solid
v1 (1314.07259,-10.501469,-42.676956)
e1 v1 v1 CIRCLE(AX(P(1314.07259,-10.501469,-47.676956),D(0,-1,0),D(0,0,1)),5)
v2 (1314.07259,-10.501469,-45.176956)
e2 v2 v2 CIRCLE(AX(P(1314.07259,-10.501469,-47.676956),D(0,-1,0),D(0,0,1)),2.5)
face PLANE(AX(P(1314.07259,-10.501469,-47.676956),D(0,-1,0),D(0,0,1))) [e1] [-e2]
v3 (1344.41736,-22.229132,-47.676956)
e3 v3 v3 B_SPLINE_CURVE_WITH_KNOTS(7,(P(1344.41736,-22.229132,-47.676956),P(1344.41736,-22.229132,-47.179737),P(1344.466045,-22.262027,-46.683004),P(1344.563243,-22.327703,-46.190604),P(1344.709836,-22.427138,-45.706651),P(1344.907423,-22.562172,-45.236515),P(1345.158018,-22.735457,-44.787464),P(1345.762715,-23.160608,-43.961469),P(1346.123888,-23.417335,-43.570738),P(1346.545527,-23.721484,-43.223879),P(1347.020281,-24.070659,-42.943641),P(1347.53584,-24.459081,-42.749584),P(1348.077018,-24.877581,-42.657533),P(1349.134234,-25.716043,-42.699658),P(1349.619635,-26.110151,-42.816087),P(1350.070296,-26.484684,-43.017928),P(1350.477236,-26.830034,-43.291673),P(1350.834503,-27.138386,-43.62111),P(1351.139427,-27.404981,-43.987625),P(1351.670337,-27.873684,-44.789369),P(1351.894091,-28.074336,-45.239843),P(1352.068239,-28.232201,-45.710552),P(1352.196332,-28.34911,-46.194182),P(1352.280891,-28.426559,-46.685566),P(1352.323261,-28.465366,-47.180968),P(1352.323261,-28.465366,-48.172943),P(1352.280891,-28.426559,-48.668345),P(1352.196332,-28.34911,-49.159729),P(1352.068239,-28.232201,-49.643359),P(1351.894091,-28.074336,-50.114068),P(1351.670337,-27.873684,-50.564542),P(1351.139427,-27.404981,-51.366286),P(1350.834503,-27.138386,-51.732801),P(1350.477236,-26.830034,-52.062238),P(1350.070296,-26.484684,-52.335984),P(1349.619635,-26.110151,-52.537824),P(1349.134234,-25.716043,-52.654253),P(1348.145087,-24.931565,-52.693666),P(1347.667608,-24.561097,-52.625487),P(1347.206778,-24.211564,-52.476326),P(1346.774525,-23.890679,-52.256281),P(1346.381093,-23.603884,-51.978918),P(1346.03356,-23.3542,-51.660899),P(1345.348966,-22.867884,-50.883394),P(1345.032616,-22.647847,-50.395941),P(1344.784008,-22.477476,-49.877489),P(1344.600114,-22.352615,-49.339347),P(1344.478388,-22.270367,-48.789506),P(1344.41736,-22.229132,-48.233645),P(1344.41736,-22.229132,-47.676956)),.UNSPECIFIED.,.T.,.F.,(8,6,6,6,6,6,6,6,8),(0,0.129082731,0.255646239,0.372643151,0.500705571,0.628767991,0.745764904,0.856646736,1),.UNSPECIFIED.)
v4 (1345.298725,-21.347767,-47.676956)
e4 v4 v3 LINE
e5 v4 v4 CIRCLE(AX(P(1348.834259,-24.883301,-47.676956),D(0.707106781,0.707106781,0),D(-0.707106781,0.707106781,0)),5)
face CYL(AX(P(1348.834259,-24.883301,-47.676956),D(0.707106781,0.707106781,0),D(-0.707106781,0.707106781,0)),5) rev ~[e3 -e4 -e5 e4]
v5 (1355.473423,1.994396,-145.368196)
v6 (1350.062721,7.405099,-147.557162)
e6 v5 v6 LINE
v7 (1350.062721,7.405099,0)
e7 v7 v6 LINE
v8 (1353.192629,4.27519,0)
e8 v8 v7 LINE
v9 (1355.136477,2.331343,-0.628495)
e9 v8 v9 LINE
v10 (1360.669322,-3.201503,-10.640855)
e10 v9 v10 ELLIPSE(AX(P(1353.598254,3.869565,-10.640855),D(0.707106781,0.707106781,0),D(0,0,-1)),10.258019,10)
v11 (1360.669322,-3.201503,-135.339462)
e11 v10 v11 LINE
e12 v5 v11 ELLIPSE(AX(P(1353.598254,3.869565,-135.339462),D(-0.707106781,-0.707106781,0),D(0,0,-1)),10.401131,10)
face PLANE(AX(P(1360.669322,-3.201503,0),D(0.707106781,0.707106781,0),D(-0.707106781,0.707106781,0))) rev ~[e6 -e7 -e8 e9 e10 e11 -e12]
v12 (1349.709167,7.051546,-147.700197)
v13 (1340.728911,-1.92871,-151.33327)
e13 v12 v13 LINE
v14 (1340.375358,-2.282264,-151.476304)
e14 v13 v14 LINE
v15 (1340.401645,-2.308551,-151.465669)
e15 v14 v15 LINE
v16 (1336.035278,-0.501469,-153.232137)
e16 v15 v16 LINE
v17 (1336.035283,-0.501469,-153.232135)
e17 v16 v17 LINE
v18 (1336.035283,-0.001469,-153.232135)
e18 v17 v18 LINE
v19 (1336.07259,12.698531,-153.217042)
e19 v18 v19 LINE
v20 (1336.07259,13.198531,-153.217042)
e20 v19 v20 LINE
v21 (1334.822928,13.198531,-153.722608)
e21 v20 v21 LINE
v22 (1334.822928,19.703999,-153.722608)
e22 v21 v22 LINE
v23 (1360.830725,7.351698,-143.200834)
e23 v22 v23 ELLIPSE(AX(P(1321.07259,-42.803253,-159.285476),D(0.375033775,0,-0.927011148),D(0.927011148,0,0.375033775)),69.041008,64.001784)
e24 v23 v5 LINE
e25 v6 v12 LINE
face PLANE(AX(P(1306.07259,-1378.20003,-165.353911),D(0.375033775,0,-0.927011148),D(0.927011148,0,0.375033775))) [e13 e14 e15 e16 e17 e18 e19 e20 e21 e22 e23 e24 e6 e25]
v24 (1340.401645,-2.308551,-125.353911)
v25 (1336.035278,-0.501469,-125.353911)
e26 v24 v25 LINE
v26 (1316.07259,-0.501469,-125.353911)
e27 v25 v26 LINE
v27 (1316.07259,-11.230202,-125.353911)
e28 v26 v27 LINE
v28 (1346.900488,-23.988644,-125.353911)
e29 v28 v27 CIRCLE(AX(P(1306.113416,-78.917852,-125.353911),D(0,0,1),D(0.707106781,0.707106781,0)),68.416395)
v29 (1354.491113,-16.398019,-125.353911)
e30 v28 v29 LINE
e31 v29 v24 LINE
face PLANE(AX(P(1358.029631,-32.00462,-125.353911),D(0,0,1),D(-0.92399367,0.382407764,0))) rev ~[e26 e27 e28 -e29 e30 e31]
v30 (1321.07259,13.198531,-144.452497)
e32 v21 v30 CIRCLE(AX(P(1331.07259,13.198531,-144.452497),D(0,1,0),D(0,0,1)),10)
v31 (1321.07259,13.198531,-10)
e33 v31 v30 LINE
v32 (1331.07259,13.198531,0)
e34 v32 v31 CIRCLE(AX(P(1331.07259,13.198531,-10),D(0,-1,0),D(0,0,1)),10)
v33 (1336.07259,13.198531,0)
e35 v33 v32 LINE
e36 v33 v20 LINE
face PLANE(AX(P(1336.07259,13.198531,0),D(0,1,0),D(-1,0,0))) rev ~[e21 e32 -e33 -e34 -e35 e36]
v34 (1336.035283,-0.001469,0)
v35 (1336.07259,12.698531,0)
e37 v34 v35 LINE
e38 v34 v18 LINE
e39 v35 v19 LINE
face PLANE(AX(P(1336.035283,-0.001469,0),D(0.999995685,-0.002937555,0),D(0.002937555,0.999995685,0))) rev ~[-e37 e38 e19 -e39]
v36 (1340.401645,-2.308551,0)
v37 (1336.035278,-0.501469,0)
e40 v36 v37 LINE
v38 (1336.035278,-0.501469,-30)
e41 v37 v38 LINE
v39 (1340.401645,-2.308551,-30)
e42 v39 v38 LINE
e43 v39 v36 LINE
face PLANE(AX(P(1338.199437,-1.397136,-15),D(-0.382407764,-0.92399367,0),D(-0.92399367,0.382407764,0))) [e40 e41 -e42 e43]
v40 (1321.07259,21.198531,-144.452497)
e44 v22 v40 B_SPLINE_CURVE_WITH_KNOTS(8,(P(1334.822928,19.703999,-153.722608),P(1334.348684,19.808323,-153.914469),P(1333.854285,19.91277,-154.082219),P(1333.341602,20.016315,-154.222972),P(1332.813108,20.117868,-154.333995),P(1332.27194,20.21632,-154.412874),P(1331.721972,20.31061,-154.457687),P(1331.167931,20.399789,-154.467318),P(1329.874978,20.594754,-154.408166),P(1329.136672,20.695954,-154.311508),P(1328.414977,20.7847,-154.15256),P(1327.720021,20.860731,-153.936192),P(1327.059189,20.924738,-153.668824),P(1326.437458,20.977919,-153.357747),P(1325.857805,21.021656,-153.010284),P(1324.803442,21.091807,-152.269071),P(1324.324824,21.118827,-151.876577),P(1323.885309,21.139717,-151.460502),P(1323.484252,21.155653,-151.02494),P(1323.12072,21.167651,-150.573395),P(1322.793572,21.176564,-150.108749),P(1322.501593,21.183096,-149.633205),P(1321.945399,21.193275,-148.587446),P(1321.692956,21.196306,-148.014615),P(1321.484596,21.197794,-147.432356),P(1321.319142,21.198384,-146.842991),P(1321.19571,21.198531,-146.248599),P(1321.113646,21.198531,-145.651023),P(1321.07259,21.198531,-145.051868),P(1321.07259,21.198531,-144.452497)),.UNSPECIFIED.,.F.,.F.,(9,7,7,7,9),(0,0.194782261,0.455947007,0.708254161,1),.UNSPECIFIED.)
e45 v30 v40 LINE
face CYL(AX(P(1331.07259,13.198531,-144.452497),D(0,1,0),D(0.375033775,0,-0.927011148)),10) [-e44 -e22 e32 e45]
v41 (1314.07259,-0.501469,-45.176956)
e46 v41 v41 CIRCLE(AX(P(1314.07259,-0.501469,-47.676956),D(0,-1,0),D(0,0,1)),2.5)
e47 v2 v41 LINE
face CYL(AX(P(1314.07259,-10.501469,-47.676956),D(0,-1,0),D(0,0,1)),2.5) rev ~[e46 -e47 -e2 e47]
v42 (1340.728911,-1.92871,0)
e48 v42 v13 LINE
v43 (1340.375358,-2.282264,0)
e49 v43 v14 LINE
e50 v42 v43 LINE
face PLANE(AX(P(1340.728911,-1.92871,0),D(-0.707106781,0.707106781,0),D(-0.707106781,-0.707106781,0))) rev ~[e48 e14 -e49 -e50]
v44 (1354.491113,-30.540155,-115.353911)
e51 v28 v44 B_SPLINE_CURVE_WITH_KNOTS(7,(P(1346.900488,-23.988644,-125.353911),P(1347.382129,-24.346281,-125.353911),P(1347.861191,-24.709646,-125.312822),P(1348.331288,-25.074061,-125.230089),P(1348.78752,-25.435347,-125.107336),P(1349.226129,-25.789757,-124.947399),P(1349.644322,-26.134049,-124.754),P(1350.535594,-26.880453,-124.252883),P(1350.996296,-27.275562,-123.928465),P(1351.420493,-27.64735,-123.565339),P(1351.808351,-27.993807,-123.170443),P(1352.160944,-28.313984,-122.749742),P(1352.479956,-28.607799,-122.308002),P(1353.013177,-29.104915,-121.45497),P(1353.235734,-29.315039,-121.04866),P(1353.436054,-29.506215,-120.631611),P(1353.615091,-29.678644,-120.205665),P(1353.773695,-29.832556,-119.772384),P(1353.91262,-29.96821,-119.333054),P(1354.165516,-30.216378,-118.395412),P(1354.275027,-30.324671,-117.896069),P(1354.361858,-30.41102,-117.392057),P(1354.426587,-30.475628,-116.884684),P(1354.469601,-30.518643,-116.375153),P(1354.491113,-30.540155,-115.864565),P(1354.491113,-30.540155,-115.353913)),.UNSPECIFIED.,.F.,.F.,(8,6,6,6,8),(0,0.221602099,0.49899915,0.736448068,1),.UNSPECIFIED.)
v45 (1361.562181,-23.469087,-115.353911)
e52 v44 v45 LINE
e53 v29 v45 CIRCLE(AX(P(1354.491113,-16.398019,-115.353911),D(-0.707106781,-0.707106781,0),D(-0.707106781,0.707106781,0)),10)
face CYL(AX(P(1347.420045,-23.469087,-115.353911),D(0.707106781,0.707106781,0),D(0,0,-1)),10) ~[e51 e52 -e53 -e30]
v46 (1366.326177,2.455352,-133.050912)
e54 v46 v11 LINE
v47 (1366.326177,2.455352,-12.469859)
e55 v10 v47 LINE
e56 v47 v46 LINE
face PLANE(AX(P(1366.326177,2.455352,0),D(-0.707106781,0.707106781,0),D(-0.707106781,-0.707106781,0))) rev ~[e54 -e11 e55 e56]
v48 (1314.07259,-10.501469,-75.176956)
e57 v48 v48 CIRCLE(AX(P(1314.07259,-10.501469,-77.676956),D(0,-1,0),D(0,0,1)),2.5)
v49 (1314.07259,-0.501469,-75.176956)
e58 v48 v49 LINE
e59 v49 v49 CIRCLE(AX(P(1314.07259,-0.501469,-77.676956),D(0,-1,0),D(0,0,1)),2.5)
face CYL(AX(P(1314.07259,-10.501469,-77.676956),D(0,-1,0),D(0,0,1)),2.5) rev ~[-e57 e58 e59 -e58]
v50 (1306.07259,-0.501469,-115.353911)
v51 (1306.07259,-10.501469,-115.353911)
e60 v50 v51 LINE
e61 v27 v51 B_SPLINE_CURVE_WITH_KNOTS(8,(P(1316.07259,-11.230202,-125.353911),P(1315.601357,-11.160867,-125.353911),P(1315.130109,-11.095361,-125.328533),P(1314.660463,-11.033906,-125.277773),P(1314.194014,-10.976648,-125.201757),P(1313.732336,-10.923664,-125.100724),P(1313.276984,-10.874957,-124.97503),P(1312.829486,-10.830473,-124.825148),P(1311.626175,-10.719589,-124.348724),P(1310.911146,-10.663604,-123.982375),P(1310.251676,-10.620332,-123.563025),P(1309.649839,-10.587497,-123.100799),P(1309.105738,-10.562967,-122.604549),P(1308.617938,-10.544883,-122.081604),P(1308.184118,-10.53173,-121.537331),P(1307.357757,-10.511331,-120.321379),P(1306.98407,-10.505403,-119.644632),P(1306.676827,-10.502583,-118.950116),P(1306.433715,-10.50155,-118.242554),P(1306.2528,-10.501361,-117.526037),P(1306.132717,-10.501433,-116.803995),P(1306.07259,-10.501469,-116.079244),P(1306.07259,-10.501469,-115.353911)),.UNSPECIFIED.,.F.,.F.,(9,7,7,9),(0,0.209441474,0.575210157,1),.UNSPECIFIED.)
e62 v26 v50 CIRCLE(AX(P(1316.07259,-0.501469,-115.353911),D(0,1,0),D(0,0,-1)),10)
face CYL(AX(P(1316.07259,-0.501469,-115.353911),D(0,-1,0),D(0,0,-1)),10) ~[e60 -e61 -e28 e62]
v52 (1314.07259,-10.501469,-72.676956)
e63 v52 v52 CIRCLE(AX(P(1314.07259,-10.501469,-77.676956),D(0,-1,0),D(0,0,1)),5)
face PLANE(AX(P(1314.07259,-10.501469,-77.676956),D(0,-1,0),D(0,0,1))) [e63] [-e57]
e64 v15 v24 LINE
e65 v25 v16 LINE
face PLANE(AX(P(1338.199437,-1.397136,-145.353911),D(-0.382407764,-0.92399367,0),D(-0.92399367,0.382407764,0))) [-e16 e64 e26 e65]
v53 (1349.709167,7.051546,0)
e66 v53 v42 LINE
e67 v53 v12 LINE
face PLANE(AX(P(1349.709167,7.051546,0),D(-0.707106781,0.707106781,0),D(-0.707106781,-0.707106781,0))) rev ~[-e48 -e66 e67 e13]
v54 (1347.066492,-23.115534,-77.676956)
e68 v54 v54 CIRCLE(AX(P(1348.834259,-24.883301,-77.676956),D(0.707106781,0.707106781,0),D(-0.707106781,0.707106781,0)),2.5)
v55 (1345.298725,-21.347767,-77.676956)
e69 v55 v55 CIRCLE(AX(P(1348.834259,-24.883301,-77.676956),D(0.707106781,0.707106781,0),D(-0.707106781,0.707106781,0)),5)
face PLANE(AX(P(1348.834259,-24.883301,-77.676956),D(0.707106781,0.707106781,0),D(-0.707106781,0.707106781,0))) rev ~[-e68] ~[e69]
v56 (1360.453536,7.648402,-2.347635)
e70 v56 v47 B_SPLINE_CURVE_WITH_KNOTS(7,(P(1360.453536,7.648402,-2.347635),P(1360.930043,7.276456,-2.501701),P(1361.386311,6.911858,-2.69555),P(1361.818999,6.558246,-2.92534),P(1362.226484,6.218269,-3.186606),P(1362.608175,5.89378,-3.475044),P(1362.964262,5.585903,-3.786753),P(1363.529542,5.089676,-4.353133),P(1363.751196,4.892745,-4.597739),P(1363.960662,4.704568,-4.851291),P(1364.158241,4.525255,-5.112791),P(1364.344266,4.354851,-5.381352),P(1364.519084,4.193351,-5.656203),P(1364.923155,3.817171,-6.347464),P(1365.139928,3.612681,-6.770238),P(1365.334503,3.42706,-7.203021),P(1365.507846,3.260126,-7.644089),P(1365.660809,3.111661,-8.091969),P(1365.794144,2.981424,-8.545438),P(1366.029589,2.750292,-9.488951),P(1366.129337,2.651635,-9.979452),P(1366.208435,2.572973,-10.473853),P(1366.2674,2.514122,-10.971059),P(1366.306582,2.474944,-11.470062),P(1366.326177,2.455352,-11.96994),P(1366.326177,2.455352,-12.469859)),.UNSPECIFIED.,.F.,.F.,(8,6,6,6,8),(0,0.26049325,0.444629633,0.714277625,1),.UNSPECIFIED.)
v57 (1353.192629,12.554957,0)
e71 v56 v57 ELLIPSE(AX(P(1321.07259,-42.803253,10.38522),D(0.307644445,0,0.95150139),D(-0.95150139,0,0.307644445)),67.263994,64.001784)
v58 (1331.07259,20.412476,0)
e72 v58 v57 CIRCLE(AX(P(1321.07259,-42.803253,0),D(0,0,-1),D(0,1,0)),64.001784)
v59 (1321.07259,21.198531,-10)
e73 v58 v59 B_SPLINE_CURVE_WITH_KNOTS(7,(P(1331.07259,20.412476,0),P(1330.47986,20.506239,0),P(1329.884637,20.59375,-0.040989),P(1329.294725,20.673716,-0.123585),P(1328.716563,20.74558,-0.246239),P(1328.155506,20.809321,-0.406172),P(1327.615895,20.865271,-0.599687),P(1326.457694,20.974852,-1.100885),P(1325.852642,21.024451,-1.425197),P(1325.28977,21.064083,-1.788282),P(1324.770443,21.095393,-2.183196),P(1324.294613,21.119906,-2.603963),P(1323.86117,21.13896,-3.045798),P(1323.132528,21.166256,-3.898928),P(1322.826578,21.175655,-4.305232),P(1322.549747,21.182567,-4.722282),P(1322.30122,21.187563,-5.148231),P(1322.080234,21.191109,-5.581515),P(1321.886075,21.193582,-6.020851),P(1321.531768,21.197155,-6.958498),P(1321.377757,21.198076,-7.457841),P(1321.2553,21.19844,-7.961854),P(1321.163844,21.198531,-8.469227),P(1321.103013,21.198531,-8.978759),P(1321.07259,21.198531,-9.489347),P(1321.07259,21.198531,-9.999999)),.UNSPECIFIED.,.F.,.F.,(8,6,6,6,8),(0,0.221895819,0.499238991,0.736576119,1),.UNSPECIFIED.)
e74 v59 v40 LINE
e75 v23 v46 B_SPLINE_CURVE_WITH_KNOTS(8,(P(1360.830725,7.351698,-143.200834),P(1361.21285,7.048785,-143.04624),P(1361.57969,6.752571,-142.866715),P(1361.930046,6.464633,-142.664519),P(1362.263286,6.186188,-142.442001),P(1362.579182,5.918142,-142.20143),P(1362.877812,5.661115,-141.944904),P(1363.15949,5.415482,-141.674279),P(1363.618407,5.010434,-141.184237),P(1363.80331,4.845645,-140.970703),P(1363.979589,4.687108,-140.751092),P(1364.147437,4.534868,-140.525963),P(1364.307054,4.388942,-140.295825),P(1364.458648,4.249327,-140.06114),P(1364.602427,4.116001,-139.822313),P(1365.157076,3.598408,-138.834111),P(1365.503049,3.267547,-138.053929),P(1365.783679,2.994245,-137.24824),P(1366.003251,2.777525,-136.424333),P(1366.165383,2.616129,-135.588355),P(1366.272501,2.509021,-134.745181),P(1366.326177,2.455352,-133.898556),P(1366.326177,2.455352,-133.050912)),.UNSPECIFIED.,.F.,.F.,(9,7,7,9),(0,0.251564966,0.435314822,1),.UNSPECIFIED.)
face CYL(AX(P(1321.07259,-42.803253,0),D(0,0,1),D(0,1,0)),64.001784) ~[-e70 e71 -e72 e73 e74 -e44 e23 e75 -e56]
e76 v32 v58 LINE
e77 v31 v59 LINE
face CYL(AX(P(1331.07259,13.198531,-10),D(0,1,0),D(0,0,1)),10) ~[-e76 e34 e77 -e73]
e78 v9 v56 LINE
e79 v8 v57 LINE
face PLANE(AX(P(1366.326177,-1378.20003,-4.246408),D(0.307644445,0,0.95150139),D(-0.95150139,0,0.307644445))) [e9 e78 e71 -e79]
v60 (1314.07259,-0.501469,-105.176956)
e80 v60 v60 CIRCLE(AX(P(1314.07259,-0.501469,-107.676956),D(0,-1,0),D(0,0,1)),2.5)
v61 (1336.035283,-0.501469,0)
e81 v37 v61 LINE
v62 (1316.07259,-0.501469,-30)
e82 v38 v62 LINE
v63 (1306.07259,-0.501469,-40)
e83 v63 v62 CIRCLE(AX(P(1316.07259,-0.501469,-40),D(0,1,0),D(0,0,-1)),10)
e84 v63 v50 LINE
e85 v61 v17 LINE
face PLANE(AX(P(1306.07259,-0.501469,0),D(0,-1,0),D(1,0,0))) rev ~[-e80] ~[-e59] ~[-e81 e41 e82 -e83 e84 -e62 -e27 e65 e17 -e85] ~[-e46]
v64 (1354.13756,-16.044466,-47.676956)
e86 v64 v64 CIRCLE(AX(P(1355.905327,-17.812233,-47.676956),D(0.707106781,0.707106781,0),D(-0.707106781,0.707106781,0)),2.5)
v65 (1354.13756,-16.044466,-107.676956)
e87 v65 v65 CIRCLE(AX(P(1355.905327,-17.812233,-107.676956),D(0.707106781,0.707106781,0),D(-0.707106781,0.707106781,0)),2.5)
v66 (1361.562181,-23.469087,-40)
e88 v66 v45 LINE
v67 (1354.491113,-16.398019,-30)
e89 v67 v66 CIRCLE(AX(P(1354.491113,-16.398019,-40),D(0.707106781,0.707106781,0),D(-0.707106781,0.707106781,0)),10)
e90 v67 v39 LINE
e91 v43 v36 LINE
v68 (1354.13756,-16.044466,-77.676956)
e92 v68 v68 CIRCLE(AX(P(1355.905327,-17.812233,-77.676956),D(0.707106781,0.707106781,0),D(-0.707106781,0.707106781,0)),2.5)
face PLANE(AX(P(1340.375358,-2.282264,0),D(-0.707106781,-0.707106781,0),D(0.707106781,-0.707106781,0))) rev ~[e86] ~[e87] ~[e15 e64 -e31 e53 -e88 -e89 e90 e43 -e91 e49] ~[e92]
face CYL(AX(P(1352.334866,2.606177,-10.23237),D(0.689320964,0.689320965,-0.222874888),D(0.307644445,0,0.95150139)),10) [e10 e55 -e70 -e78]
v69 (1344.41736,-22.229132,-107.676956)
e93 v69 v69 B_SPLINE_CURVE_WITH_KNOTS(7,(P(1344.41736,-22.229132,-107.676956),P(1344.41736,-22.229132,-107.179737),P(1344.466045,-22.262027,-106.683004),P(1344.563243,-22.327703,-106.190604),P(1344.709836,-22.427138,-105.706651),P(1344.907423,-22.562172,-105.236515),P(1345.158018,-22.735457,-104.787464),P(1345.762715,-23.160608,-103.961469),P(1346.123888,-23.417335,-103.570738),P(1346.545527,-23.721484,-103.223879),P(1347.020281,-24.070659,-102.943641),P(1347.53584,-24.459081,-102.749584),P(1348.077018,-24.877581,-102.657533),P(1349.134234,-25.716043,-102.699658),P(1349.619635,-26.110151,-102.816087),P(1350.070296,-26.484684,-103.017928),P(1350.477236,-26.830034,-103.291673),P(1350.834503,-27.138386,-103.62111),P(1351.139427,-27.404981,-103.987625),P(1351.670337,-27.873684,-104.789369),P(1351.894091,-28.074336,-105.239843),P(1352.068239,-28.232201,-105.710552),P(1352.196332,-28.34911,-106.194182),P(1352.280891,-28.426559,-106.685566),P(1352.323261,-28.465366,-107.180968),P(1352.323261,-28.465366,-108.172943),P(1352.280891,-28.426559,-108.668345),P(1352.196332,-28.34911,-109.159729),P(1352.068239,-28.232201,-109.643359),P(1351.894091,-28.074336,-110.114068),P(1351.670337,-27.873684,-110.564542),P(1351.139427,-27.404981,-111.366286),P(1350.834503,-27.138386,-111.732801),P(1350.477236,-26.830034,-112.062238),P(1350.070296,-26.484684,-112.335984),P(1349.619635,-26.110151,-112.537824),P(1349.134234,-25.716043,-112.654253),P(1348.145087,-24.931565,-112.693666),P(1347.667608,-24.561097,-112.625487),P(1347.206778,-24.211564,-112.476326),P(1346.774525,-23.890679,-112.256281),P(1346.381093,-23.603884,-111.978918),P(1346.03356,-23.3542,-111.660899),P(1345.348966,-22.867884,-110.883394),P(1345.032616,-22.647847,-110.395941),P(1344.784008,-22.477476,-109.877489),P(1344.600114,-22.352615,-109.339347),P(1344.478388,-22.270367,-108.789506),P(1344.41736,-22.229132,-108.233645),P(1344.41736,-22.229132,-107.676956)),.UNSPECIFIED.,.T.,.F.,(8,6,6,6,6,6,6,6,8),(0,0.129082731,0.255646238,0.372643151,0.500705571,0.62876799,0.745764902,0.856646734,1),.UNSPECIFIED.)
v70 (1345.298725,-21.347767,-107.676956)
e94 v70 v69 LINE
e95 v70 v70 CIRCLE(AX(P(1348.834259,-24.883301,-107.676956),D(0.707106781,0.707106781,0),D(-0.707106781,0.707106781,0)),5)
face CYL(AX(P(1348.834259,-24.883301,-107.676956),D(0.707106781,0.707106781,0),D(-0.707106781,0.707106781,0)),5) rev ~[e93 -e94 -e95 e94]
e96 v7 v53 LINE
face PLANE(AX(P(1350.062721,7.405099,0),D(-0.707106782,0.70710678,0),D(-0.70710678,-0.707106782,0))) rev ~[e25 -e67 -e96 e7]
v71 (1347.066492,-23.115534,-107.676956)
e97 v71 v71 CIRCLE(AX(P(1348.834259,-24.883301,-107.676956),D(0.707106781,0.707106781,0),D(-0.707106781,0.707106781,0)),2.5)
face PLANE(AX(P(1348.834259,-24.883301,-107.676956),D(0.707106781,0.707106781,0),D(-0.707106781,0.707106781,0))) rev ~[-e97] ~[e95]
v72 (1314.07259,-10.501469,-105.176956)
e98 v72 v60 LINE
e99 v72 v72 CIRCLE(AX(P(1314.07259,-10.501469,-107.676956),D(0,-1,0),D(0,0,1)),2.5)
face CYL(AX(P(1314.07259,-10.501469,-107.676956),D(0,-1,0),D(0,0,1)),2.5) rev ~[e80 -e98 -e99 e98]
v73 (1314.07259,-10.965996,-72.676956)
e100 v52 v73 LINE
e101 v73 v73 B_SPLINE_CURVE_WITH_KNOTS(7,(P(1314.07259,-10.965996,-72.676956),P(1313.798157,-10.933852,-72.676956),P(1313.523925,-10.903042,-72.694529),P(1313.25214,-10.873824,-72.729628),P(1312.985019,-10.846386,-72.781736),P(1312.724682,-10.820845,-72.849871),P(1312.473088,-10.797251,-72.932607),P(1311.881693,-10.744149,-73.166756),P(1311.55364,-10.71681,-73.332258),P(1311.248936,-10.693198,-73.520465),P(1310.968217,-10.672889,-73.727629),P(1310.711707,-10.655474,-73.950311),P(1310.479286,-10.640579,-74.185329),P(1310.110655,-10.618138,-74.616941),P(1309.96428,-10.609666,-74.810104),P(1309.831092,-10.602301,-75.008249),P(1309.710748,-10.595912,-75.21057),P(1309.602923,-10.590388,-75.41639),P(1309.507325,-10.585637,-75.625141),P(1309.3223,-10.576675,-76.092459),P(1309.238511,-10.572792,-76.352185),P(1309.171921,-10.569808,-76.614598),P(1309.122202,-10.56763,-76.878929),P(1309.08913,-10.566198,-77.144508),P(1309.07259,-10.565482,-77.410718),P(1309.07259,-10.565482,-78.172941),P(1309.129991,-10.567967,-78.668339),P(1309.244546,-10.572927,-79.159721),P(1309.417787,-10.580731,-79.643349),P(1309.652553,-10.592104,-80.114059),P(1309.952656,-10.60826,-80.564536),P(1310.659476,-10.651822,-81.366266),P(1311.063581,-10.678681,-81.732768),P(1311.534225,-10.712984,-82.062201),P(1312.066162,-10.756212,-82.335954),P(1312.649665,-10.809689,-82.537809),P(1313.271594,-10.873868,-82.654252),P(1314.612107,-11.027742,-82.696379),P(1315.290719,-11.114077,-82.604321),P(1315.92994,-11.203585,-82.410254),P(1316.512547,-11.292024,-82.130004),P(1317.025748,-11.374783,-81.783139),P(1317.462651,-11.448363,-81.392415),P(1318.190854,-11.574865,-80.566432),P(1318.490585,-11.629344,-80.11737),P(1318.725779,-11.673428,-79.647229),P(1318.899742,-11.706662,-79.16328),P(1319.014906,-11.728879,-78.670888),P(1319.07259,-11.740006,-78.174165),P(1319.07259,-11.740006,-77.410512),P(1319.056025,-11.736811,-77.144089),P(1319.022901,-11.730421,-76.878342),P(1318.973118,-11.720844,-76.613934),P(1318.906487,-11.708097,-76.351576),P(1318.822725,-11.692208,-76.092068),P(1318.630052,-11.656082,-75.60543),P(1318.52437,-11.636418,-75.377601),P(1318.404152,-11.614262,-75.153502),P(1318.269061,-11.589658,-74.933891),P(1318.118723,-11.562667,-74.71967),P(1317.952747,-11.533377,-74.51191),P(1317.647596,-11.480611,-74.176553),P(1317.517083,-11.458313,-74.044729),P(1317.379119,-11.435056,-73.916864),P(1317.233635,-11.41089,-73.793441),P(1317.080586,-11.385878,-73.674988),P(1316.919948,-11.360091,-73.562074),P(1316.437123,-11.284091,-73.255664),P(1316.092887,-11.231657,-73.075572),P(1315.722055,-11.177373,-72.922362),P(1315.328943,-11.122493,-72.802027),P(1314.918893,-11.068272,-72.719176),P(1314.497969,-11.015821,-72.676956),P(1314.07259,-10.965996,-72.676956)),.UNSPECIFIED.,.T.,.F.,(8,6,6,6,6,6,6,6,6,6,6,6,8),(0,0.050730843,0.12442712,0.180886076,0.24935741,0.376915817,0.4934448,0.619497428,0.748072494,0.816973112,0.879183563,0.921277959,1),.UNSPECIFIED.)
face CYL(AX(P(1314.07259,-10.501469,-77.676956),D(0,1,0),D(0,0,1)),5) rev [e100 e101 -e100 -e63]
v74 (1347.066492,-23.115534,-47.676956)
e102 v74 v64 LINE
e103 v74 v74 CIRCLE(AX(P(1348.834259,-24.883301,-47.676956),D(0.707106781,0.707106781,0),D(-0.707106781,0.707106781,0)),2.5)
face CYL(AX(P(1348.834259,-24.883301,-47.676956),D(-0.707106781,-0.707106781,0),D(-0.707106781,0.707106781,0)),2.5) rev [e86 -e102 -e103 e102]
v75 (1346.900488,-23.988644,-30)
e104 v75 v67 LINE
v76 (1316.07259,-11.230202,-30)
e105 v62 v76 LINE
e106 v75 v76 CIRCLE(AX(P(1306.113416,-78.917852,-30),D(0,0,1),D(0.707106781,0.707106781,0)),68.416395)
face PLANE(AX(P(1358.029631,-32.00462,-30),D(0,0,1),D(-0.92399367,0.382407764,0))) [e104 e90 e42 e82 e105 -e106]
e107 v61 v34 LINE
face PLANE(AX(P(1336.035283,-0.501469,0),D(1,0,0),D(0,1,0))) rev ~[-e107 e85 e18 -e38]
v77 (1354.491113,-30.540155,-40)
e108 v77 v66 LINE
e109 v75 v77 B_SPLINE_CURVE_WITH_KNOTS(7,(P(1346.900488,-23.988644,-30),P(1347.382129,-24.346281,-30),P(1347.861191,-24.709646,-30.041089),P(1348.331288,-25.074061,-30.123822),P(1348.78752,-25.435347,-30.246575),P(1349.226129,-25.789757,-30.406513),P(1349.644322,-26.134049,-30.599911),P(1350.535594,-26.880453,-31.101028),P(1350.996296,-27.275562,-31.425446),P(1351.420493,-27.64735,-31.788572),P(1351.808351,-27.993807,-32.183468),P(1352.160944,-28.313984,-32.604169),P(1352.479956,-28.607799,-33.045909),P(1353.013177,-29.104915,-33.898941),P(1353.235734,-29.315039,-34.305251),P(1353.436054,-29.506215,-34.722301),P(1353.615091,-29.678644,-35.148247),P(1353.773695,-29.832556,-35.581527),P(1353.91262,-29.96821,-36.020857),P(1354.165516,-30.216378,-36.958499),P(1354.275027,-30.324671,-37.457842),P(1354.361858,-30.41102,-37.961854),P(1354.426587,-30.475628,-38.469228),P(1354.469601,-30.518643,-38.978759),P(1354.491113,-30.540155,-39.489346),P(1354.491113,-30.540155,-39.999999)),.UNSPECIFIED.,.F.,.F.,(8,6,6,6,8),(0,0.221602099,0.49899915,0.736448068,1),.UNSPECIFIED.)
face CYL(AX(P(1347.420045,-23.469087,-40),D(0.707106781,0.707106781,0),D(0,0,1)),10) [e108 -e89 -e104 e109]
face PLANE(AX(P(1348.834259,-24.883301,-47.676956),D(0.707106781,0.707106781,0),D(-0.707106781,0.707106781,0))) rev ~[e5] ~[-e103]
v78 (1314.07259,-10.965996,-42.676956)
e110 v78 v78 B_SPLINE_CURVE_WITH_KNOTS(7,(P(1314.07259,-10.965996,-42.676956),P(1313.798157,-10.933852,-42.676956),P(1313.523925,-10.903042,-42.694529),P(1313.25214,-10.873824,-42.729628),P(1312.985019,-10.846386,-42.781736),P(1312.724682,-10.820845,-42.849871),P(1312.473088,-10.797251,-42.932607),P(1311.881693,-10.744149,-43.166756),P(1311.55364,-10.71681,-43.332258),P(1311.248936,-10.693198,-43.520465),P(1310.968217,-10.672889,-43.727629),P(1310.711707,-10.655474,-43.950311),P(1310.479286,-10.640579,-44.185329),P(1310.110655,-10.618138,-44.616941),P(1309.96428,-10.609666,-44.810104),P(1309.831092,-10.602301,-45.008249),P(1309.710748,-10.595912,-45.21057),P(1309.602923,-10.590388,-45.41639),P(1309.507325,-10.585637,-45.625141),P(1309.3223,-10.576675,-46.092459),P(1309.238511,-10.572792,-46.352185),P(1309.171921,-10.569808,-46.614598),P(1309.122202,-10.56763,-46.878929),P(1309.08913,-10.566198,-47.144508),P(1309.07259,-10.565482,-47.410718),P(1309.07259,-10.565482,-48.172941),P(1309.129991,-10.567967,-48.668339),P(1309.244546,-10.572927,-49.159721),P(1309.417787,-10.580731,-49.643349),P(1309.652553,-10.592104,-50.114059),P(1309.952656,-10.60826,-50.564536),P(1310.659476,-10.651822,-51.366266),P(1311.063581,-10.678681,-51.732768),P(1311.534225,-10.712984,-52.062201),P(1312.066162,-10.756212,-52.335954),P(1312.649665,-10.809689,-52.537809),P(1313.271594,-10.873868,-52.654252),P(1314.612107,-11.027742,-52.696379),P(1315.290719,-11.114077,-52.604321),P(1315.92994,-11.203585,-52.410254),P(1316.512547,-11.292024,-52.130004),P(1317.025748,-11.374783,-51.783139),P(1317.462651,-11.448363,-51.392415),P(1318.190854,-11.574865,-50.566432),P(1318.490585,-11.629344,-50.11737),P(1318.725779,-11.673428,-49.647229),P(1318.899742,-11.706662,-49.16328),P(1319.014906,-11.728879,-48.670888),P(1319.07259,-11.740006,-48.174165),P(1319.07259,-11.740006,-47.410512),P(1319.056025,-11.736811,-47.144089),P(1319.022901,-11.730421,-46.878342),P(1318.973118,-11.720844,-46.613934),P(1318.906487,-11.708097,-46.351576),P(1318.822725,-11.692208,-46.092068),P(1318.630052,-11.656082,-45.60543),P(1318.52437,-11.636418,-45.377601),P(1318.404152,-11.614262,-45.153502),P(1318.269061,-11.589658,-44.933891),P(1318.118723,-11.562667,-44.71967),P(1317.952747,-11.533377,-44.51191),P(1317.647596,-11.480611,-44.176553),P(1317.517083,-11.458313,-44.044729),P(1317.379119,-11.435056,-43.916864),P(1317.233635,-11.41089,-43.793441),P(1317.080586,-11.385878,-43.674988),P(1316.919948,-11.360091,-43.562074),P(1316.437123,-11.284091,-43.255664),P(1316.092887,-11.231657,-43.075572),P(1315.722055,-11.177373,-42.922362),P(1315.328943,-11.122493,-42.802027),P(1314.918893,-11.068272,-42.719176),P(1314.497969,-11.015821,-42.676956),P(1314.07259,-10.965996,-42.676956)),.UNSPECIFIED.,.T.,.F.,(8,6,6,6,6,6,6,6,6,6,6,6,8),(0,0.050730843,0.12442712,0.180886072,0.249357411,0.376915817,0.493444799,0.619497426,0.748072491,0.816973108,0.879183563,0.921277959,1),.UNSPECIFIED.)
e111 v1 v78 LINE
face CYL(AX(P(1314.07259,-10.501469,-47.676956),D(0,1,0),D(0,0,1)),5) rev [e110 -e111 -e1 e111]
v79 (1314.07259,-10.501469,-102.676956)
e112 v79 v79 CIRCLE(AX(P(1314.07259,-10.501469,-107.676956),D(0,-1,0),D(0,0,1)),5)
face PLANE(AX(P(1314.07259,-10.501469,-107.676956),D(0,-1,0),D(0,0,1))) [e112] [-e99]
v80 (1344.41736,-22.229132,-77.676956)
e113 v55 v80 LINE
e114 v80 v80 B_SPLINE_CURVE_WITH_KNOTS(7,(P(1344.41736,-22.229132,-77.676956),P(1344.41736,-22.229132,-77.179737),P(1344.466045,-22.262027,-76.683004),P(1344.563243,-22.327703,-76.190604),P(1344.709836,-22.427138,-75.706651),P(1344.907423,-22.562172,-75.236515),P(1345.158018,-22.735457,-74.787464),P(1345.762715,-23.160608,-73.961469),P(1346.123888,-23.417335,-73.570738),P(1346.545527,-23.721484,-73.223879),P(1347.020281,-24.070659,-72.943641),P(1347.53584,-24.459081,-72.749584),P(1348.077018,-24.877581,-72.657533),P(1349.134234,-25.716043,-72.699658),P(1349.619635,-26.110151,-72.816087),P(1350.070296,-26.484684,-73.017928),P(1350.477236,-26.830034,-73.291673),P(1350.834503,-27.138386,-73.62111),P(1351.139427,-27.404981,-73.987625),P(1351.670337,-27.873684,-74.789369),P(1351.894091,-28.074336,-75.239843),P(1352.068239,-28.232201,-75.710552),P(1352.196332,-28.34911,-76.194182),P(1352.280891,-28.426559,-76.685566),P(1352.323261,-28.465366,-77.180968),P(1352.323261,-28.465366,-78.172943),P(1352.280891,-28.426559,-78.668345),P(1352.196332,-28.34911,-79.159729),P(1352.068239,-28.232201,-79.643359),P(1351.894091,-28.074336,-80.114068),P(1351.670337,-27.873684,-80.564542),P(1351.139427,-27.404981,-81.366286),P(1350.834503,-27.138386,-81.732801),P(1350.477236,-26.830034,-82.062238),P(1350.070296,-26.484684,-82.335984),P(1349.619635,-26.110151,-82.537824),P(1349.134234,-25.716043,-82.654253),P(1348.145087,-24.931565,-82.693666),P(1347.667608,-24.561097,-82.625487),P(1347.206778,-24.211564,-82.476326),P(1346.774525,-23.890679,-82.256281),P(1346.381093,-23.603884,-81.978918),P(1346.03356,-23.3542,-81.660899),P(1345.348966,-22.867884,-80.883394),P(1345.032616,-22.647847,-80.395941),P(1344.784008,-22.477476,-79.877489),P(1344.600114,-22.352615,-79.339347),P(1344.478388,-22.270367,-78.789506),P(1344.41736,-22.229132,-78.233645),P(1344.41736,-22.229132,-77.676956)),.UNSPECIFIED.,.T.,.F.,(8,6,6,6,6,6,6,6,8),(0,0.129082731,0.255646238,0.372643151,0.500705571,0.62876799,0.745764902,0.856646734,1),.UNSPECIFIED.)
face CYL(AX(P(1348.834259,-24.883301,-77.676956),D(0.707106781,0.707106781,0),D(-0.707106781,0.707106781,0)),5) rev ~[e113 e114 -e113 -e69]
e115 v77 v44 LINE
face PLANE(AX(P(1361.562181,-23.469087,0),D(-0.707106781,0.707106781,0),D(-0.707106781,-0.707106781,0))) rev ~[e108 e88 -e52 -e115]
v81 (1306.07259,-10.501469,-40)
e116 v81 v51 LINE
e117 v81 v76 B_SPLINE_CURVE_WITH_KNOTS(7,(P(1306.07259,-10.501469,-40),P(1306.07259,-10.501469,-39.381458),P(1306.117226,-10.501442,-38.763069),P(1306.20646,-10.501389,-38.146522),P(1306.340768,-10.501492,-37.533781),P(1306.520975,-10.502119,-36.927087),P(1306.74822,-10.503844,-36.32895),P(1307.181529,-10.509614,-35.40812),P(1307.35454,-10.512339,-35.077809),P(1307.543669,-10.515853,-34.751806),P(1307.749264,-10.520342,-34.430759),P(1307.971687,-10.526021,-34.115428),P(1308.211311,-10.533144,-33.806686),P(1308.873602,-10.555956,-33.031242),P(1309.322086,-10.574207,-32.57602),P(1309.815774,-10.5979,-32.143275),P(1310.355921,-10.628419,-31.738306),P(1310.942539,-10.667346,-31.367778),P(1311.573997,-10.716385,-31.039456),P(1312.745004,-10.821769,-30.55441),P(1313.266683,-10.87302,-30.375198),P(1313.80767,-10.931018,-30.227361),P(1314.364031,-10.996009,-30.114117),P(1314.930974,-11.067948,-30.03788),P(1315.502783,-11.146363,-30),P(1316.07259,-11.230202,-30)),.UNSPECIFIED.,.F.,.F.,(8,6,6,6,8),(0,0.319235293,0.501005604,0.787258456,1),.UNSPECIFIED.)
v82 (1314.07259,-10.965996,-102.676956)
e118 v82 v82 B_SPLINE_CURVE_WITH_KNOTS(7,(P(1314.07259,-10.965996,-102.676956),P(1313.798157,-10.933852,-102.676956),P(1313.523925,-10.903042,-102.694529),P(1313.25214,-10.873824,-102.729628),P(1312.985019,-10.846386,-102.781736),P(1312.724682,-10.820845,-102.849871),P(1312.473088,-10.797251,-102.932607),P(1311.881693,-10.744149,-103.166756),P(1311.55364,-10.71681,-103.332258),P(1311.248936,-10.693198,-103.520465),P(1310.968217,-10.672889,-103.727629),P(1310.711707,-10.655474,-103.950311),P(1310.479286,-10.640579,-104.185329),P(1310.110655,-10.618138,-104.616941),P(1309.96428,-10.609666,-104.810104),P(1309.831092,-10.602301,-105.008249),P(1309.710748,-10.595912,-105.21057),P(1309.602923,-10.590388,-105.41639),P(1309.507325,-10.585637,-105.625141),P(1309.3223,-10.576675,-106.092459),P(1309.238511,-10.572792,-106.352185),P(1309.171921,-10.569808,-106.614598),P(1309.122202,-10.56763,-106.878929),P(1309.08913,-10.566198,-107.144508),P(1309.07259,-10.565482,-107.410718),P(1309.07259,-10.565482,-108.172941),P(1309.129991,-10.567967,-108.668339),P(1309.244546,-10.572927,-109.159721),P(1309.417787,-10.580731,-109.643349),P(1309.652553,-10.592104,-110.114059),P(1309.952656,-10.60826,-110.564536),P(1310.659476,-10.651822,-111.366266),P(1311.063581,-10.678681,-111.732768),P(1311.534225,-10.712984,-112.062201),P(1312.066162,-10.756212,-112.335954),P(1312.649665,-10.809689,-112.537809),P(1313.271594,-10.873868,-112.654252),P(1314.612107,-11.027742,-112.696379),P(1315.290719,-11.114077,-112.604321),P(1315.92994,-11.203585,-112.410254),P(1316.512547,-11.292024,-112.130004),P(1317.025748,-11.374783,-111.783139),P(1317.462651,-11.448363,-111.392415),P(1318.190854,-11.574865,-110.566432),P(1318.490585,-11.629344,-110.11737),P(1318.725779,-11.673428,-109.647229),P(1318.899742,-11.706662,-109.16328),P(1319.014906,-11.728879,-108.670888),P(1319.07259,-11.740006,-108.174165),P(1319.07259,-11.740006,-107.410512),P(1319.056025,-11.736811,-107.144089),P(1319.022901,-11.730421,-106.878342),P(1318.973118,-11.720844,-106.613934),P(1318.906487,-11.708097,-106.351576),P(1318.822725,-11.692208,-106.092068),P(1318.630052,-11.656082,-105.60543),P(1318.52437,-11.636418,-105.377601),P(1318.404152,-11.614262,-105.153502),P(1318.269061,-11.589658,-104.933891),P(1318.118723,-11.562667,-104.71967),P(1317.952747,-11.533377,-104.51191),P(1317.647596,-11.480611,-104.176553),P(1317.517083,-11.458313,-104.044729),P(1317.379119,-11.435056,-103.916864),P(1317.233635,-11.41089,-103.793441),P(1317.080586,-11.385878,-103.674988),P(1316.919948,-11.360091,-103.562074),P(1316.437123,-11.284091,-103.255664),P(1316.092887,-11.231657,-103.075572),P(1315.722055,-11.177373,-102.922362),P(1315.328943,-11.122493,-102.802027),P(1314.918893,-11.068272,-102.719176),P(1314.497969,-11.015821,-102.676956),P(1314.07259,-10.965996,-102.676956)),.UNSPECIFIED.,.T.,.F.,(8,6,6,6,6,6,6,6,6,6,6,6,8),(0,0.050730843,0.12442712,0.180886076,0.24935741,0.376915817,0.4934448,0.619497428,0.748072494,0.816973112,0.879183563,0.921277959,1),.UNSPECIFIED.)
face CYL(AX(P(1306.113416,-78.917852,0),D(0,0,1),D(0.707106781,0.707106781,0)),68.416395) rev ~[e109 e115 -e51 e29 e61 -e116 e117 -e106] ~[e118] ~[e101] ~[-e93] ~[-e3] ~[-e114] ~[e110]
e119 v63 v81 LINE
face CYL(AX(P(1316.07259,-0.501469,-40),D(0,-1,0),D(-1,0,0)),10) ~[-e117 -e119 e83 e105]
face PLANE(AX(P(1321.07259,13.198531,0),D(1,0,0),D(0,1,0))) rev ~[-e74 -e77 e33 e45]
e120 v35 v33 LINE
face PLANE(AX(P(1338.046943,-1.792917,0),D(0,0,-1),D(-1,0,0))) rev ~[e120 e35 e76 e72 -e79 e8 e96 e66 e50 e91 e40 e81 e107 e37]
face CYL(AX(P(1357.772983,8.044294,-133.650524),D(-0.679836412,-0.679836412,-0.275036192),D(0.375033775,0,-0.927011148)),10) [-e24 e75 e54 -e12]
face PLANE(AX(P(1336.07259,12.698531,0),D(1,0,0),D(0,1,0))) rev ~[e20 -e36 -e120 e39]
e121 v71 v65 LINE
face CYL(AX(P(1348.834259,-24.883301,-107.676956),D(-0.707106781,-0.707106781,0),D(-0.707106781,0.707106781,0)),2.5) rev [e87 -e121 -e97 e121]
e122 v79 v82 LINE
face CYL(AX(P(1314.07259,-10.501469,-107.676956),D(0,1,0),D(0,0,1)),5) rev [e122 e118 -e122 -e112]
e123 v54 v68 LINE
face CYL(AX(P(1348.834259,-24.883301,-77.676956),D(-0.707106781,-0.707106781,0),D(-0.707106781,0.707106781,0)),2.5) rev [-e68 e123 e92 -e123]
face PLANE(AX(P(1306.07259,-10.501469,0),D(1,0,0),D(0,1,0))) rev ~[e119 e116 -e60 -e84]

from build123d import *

# Parameters (mm, degrees)
BOSS_EXTRUDE1_DEPTH                 = 170
CUT_EXTRUDE2_DEPTH                  = 1378.200029658
CUT_EXTRUDE2_DEPTH_BACK             = 1378.200029658
SKETCH7_W                           = 60.055026026
SKETCH7_H                           = 40
SKETCH7_H_2                         = 30
CUT_EXTRUDE7_DEPTH                  = 20.697901
FILLET1_R                           = 10
CUT_EXTRUDE3_REACH                  = 1001.772
CUT_EXTRUDE3_END_RADIUS             = 68.41639524
SKETCH3_R                           = 2.5
CUT_EXTRUDE3_DIRECTION_2_DEPTH      = 10
SKETCH4_R                           = 2.5
CUT_EXTRUDE4_DEPTH                  = 10
CUT_EXTRUDE4_DIRECTION_2_REACH      = 1377.394
CUT_EXTRUDE4_DIRECTION_2_END_RADIUS = 68.41639524
CUT_EXTRUDE5_REACH                  = 1377.394
SKETCH5_R                           = 5
CUT_EXTRUDE6_REACH                  = 1001.772
SKETCH6_R                           = 5


with BuildPart() as part:
    # Sketch1 → Boss-Extrude1 (new body)
    with BuildSketch(Plane.XY):
        with BuildLine():
            Line((1349.709167159, 7.051545827), (1340.728911037, -1.928710294))
            Line((1340.728911037, -1.928710294), (1340.375357647, -2.282263684))
            Line((1340.375357647, -2.282263684), (1361.562180969, -23.469087006))
            Line((1361.562180969, -23.469087006), (1354.491113157, -30.540154818))
            ThreePointArc((1354.491113157, -30.540154818), (1332.276376869, -15.701535719), (1306.072590331, -10.501468778))
            Line((1306.072590331, -10.501468778), (1306.072590331, -0.501468778))
            Line((1306.072590331, -0.501468778), (1336.035283217, -0.501468778))
            Line((1336.035283217, -0.501468778), (1336.035283217, -0.001468778))
            Line((1336.035283217, -0.001468778), (1336.072590331, 12.698531222))
            Line((1336.072590331, 12.698531222), (1336.072590331, 13.198531222))
            Line((1336.072590331, 13.198531222), (1321.072590331, 13.198531222))
            Line((1321.072590331, 13.198531222), (1321.072590331, 21.198531222))
            ThreePointArc((1321.072590331, 21.198531222), (1345.563373492, 16.327364444), (1366.326176516, 2.45535175))
            Line((1366.326176516, 2.45535175), (1360.669322267, -3.2015025))
            Line((1360.669322267, -3.2015025), (1350.062720549, 7.405099218))
            Line((1350.062720549, 7.405099218), (1349.709167159, 7.051545827))
        make_face()
    extrude(amount=-BOSS_EXTRUDE1_DEPTH)

    # Sketch2 → Cut-Extrude2 (cut, two sides: drawn at the far end of the back side and taken through both)
    with BuildSketch(Plane(origin=(0, 0, 0), x_dir=(1, 0, 0), z_dir=(0, 1, 0)).offset(-CUT_EXTRUDE2_DEPTH_BACK)):
        Polygon((1306.072590331, 165.353911181), (1366.326176516, 140.977580956), (1366.326176516, 170), (1306.072590331, 170), align=None)
        Polygon((1366.326176516, 4.246407684), (1353.192629401, 0), (1366.326176516, 0), align=None)
    extrude(amount=CUT_EXTRUDE2_DEPTH + CUT_EXTRUDE2_DEPTH_BACK, mode=Mode.SUBTRACT)

    # Sketch7 → Cut-Extrude7 (cut)
    with BuildSketch(Plane(origin=(187.283823237, 452.52498352, 0), x_dir=(-0.923993669874315, 0.38240776408461624, 0), z_dir=(-0.3824077640846163, -0.9239936698743151, 0))):
        with Locations((-1237.02208443, 145.353911181)):
            Rectangle(SKETCH7_W, SKETCH7_H)
        with Locations((-1237.02208443, 15)):
            Rectangle(SKETCH7_W, SKETCH7_H_2)
    extrude(amount=-CUT_EXTRUDE7_DEPTH, mode=Mode.SUBTRACT)

    # Fillet1
    fillet1_edges = [part.edges().sort_by_distance(p)[0] for p in [
        (1363.497749392, -0.373075375, -3.331905717),
        (1321.072590331, 17.198531222, 0),
        (1363.497749392, -0.373075375, -142.121855977),
        (1321.072590331, 17.198531222, -159.285476478),
        (1306.072590331, -5.501468778, -30),
        (1306.072590331, -5.501468778, -125.353911181),
        (1358.026647063, -27.004620912, -125.353911181),
        (1358.026647063, -27.004620912, -30),
    ]]
    fillet(fillet1_edges, radius=FILLET1_R)

    # Cut-Extrude3: up to this cylinder (the profile starts outside it)
    cut_extrude3_end = Plane(origin=(1306.113416139, -78.917851837, -77.676956), z_dir=(0, 0, 1)) * Cylinder(CUT_EXTRUDE3_END_RADIUS, 2201.37679048, mode=Mode.PRIVATE)
    # Sketch3 → Cut-Extrude3 (cut, up to the surface)
    with BuildSketch(Plane(origin=(661.975479169, 661.975479169, 0), x_dir=(0, 0, 1), z_dir=(0.7071067811866074, 0.7071067811864877, 0)), mode=Mode.PRIVATE) as cut_extrude3_sk1:
        with Locations(Location((-77.676955591, 971.365001741, 0), (0, 0, 270))):
            Circle(SKETCH3_R)
    cut_extrude3_tool1 = extrude(cut_extrude3_sk1.sketch, amount=-CUT_EXTRUDE3_REACH, mode=Mode.PRIVATE) - cut_extrude3_end
    add(cut_extrude3_tool1.solids().sort_by_distance((1348.834259, -24.883301, -77.676956))[0], mode=Mode.SUBTRACT)
    # Sketch3 → Cut-Extrude3 (cut, up to the surface)
    with BuildSketch(Plane(origin=(661.975479169, 661.975479169, 0), x_dir=(0, 0, 1), z_dir=(0.7071067811866074, 0.7071067811864877, 0)), mode=Mode.PRIVATE) as cut_extrude3_sk2:
        with Locations(Location((-107.676955591, 971.365001741, 0), (0, 0, 270))):
            Circle(SKETCH3_R)
    cut_extrude3_tool2 = extrude(cut_extrude3_sk2.sketch, amount=-CUT_EXTRUDE3_REACH, mode=Mode.PRIVATE) - cut_extrude3_end
    add(cut_extrude3_tool2.solids().sort_by_distance((1348.834259, -24.883301, -107.676956))[0], mode=Mode.SUBTRACT)
    # Sketch3 → Cut-Extrude3 (cut, up to the surface)
    with BuildSketch(Plane(origin=(661.975479169, 661.975479169, 0), x_dir=(0, 0, 1), z_dir=(0.7071067811866074, 0.7071067811864877, 0)), mode=Mode.PRIVATE) as cut_extrude3_sk3:
        with Locations(Location((-47.676955591, 971.365001741, 0), (0, 0, 270))):
            Circle(SKETCH3_R)
    cut_extrude3_tool3 = extrude(cut_extrude3_sk3.sketch, amount=-CUT_EXTRUDE3_REACH, mode=Mode.PRIVATE) - cut_extrude3_end
    add(cut_extrude3_tool3.solids().sort_by_distance((1348.834259, -24.883301, -47.676956))[0], mode=Mode.SUBTRACT)

    # Sketch3 → Cut-Extrude3 direction 2 (cut)
    with BuildSketch(Plane(origin=(661.975479169, 661.975479169, 0), x_dir=(0, 0, 1), z_dir=(0.7071067811866074, 0.7071067811864877, 0))):
        with Locations(Location((-77.676955591, 971.365001741, 0), (0, 0, 270))):
            Circle(SKETCH3_R)
        with Locations(Location((-107.676955591, 971.365001741, 0), (0, 0, 270))):
            Circle(SKETCH3_R)
        with Locations(Location((-47.676955591, 971.365001741, 0), (0, 0, 270))):
            Circle(SKETCH3_R)
    extrude(amount=CUT_EXTRUDE3_DIRECTION_2_DEPTH, mode=Mode.SUBTRACT)

    # Sketch4 → Cut-Extrude4 (cut)
    with BuildSketch(Plane(origin=(0, -10.501468778, 0), x_dir=(0, 0, 1), z_dir=(0, -1, 0))):
        with Locations((-107.676955591, -1314.072590331)):
            Circle(SKETCH4_R)
        with Locations((-77.676955591, -1314.072590331)):
            Circle(SKETCH4_R)
        with Locations((-47.676955591, -1314.072590331)):
            Circle(SKETCH4_R)
    extrude(amount=-CUT_EXTRUDE4_DEPTH, mode=Mode.SUBTRACT)

    # Cut-Extrude4 direction 2: up to this cylinder (the profile starts outside it)
    cut_extrude4_direction_2_end = Plane(origin=(1306.113416139, -78.917851837, -77.676956), z_dir=(0, 0, 1)) * Cylinder(CUT_EXTRUDE4_DIRECTION_2_END_RADIUS, 2952.62079048, mode=Mode.PRIVATE)
    # Sketch4 → Cut-Extrude4 direction 2 (cut, up to the surface)
    with BuildSketch(Plane(origin=(0, -10.501468778, 0), x_dir=(0, 0, 1), z_dir=(0, -1, 0)), mode=Mode.PRIVATE) as cut_extrude4_direction_2_sk1:
        with Locations((-107.676955591, -1314.072590331)):
            Circle(SKETCH4_R)
    cut_extrude4_direction_2_tool1 = extrude(cut_extrude4_direction_2_sk1.sketch, amount=CUT_EXTRUDE4_DIRECTION_2_REACH, mode=Mode.PRIVATE) - cut_extrude4_direction_2_end
    add(cut_extrude4_direction_2_tool1.solids().sort_by_distance((1314.07259, -10.501469, -107.676956))[0], mode=Mode.SUBTRACT)
    # Sketch4 → Cut-Extrude4 direction 2 (cut, up to the surface)
    with BuildSketch(Plane(origin=(0, -10.501468778, 0), x_dir=(0, 0, 1), z_dir=(0, -1, 0)), mode=Mode.PRIVATE) as cut_extrude4_direction_2_sk2:
        with Locations((-77.676955591, -1314.072590331)):
            Circle(SKETCH4_R)
    cut_extrude4_direction_2_tool2 = extrude(cut_extrude4_direction_2_sk2.sketch, amount=CUT_EXTRUDE4_DIRECTION_2_REACH, mode=Mode.PRIVATE) - cut_extrude4_direction_2_end
    add(cut_extrude4_direction_2_tool2.solids().sort_by_distance((1314.07259, -10.501469, -77.676956))[0], mode=Mode.SUBTRACT)
    # Sketch4 → Cut-Extrude4 direction 2 (cut, up to the surface)
    with BuildSketch(Plane(origin=(0, -10.501468778, 0), x_dir=(0, 0, 1), z_dir=(0, -1, 0)), mode=Mode.PRIVATE) as cut_extrude4_direction_2_sk3:
        with Locations((-47.676955591, -1314.072590331)):
            Circle(SKETCH4_R)
    cut_extrude4_direction_2_tool3 = extrude(cut_extrude4_direction_2_sk3.sketch, amount=CUT_EXTRUDE4_DIRECTION_2_REACH, mode=Mode.PRIVATE) - cut_extrude4_direction_2_end
    add(cut_extrude4_direction_2_tool3.solids().sort_by_distance((1314.07259, -10.501469, -47.676956))[0], mode=Mode.SUBTRACT)

    # Sketch5 → Cut-Extrude5 (cut, up to next)
    with BuildSketch(Plane(origin=(0, -10.501468778, 0), x_dir=(0, 0, 1), z_dir=(0, -1, 0)), mode=Mode.PRIVATE) as cut_extrude5_sk1:
        with Locations((-47.676955591, -1314.072590331)):
            Circle(SKETCH5_R)
    cut_extrude5_tool1 = extrude(cut_extrude5_sk1.sketch, amount=CUT_EXTRUDE5_REACH, mode=Mode.PRIVATE) & part.part
    # Sketch5 → Cut-Extrude5 (cut, up to next)
    with BuildSketch(Plane(origin=(0, -10.501468778, 0), x_dir=(0, 0, 1), z_dir=(0, -1, 0)), mode=Mode.PRIVATE) as cut_extrude5_sk2:
        with Locations((-77.676955591, -1314.072590331)):
            Circle(SKETCH5_R)
    cut_extrude5_tool2 = extrude(cut_extrude5_sk2.sketch, amount=CUT_EXTRUDE5_REACH, mode=Mode.PRIVATE) & part.part
    # Sketch5 → Cut-Extrude5 (cut, up to next)
    with BuildSketch(Plane(origin=(0, -10.501468778, 0), x_dir=(0, 0, 1), z_dir=(0, -1, 0)), mode=Mode.PRIVATE) as cut_extrude5_sk3:
        with Locations((-107.676955591, -1314.072590331)):
            Circle(SKETCH5_R)
    cut_extrude5_tool3 = extrude(cut_extrude5_sk3.sketch, amount=CUT_EXTRUDE5_REACH, mode=Mode.PRIVATE) & part.part
    add(cut_extrude5_tool1.solids().sort_by_distance((1314.07259, -10.501469, -47.676956))[0], mode=Mode.SUBTRACT)
    add(cut_extrude5_tool2.solids().sort_by_distance((1314.07259, -10.501469, -77.676956))[0], mode=Mode.SUBTRACT)
    add(cut_extrude5_tool3.solids().sort_by_distance((1314.07259, -10.501469, -107.676956))[0], mode=Mode.SUBTRACT)

    # Sketch6 → Cut-Extrude6 (cut, up to next)
    with BuildSketch(Plane(origin=(661.975479169, 661.975479169, 0), x_dir=(0, 0, 1), z_dir=(0.7071067811866074, 0.7071067811864877, 0)), mode=Mode.PRIVATE) as cut_extrude6_sk1:
        with Locations(Location((-107.676955591, 971.365001741, 0), (0, 0, 270))):
            Circle(SKETCH6_R)
    cut_extrude6_tool1 = extrude(cut_extrude6_sk1.sketch, amount=-CUT_EXTRUDE6_REACH, mode=Mode.PRIVATE) & part.part
    # Sketch6 → Cut-Extrude6 (cut, up to next)
    with BuildSketch(Plane(origin=(661.975479169, 661.975479169, 0), x_dir=(0, 0, 1), z_dir=(0.7071067811866074, 0.7071067811864877, 0)), mode=Mode.PRIVATE) as cut_extrude6_sk2:
        with Locations(Location((-77.676955591, 971.365001741, 0), (0, 0, 270))):
            Circle(SKETCH6_R)
    cut_extrude6_tool2 = extrude(cut_extrude6_sk2.sketch, amount=-CUT_EXTRUDE6_REACH, mode=Mode.PRIVATE) & part.part
    # Sketch6 → Cut-Extrude6 (cut, up to next)
    with BuildSketch(Plane(origin=(661.975479169, 661.975479169, 0), x_dir=(0, 0, 1), z_dir=(0.7071067811866074, 0.7071067811864877, 0)), mode=Mode.PRIVATE) as cut_extrude6_sk3:
        with Locations(Location((-47.676955591, 971.365001741, 0), (0, 0, 270))):
            Circle(SKETCH6_R)
    cut_extrude6_tool3 = extrude(cut_extrude6_sk3.sketch, amount=-CUT_EXTRUDE6_REACH, mode=Mode.PRIVATE) & part.part
    add(cut_extrude6_tool1.solids().sort_by_distance((1348.834259, -24.883301, -107.676956))[0], mode=Mode.SUBTRACT)
    add(cut_extrude6_tool2.solids().sort_by_distance((1348.834259, -24.883301, -77.676956))[0], mode=Mode.SUBTRACT)
    add(cut_extrude6_tool3.solids().sort_by_distance((1348.834259, -24.883301, -47.676956))[0], mode=Mode.SUBTRACT)


solid = part.part
